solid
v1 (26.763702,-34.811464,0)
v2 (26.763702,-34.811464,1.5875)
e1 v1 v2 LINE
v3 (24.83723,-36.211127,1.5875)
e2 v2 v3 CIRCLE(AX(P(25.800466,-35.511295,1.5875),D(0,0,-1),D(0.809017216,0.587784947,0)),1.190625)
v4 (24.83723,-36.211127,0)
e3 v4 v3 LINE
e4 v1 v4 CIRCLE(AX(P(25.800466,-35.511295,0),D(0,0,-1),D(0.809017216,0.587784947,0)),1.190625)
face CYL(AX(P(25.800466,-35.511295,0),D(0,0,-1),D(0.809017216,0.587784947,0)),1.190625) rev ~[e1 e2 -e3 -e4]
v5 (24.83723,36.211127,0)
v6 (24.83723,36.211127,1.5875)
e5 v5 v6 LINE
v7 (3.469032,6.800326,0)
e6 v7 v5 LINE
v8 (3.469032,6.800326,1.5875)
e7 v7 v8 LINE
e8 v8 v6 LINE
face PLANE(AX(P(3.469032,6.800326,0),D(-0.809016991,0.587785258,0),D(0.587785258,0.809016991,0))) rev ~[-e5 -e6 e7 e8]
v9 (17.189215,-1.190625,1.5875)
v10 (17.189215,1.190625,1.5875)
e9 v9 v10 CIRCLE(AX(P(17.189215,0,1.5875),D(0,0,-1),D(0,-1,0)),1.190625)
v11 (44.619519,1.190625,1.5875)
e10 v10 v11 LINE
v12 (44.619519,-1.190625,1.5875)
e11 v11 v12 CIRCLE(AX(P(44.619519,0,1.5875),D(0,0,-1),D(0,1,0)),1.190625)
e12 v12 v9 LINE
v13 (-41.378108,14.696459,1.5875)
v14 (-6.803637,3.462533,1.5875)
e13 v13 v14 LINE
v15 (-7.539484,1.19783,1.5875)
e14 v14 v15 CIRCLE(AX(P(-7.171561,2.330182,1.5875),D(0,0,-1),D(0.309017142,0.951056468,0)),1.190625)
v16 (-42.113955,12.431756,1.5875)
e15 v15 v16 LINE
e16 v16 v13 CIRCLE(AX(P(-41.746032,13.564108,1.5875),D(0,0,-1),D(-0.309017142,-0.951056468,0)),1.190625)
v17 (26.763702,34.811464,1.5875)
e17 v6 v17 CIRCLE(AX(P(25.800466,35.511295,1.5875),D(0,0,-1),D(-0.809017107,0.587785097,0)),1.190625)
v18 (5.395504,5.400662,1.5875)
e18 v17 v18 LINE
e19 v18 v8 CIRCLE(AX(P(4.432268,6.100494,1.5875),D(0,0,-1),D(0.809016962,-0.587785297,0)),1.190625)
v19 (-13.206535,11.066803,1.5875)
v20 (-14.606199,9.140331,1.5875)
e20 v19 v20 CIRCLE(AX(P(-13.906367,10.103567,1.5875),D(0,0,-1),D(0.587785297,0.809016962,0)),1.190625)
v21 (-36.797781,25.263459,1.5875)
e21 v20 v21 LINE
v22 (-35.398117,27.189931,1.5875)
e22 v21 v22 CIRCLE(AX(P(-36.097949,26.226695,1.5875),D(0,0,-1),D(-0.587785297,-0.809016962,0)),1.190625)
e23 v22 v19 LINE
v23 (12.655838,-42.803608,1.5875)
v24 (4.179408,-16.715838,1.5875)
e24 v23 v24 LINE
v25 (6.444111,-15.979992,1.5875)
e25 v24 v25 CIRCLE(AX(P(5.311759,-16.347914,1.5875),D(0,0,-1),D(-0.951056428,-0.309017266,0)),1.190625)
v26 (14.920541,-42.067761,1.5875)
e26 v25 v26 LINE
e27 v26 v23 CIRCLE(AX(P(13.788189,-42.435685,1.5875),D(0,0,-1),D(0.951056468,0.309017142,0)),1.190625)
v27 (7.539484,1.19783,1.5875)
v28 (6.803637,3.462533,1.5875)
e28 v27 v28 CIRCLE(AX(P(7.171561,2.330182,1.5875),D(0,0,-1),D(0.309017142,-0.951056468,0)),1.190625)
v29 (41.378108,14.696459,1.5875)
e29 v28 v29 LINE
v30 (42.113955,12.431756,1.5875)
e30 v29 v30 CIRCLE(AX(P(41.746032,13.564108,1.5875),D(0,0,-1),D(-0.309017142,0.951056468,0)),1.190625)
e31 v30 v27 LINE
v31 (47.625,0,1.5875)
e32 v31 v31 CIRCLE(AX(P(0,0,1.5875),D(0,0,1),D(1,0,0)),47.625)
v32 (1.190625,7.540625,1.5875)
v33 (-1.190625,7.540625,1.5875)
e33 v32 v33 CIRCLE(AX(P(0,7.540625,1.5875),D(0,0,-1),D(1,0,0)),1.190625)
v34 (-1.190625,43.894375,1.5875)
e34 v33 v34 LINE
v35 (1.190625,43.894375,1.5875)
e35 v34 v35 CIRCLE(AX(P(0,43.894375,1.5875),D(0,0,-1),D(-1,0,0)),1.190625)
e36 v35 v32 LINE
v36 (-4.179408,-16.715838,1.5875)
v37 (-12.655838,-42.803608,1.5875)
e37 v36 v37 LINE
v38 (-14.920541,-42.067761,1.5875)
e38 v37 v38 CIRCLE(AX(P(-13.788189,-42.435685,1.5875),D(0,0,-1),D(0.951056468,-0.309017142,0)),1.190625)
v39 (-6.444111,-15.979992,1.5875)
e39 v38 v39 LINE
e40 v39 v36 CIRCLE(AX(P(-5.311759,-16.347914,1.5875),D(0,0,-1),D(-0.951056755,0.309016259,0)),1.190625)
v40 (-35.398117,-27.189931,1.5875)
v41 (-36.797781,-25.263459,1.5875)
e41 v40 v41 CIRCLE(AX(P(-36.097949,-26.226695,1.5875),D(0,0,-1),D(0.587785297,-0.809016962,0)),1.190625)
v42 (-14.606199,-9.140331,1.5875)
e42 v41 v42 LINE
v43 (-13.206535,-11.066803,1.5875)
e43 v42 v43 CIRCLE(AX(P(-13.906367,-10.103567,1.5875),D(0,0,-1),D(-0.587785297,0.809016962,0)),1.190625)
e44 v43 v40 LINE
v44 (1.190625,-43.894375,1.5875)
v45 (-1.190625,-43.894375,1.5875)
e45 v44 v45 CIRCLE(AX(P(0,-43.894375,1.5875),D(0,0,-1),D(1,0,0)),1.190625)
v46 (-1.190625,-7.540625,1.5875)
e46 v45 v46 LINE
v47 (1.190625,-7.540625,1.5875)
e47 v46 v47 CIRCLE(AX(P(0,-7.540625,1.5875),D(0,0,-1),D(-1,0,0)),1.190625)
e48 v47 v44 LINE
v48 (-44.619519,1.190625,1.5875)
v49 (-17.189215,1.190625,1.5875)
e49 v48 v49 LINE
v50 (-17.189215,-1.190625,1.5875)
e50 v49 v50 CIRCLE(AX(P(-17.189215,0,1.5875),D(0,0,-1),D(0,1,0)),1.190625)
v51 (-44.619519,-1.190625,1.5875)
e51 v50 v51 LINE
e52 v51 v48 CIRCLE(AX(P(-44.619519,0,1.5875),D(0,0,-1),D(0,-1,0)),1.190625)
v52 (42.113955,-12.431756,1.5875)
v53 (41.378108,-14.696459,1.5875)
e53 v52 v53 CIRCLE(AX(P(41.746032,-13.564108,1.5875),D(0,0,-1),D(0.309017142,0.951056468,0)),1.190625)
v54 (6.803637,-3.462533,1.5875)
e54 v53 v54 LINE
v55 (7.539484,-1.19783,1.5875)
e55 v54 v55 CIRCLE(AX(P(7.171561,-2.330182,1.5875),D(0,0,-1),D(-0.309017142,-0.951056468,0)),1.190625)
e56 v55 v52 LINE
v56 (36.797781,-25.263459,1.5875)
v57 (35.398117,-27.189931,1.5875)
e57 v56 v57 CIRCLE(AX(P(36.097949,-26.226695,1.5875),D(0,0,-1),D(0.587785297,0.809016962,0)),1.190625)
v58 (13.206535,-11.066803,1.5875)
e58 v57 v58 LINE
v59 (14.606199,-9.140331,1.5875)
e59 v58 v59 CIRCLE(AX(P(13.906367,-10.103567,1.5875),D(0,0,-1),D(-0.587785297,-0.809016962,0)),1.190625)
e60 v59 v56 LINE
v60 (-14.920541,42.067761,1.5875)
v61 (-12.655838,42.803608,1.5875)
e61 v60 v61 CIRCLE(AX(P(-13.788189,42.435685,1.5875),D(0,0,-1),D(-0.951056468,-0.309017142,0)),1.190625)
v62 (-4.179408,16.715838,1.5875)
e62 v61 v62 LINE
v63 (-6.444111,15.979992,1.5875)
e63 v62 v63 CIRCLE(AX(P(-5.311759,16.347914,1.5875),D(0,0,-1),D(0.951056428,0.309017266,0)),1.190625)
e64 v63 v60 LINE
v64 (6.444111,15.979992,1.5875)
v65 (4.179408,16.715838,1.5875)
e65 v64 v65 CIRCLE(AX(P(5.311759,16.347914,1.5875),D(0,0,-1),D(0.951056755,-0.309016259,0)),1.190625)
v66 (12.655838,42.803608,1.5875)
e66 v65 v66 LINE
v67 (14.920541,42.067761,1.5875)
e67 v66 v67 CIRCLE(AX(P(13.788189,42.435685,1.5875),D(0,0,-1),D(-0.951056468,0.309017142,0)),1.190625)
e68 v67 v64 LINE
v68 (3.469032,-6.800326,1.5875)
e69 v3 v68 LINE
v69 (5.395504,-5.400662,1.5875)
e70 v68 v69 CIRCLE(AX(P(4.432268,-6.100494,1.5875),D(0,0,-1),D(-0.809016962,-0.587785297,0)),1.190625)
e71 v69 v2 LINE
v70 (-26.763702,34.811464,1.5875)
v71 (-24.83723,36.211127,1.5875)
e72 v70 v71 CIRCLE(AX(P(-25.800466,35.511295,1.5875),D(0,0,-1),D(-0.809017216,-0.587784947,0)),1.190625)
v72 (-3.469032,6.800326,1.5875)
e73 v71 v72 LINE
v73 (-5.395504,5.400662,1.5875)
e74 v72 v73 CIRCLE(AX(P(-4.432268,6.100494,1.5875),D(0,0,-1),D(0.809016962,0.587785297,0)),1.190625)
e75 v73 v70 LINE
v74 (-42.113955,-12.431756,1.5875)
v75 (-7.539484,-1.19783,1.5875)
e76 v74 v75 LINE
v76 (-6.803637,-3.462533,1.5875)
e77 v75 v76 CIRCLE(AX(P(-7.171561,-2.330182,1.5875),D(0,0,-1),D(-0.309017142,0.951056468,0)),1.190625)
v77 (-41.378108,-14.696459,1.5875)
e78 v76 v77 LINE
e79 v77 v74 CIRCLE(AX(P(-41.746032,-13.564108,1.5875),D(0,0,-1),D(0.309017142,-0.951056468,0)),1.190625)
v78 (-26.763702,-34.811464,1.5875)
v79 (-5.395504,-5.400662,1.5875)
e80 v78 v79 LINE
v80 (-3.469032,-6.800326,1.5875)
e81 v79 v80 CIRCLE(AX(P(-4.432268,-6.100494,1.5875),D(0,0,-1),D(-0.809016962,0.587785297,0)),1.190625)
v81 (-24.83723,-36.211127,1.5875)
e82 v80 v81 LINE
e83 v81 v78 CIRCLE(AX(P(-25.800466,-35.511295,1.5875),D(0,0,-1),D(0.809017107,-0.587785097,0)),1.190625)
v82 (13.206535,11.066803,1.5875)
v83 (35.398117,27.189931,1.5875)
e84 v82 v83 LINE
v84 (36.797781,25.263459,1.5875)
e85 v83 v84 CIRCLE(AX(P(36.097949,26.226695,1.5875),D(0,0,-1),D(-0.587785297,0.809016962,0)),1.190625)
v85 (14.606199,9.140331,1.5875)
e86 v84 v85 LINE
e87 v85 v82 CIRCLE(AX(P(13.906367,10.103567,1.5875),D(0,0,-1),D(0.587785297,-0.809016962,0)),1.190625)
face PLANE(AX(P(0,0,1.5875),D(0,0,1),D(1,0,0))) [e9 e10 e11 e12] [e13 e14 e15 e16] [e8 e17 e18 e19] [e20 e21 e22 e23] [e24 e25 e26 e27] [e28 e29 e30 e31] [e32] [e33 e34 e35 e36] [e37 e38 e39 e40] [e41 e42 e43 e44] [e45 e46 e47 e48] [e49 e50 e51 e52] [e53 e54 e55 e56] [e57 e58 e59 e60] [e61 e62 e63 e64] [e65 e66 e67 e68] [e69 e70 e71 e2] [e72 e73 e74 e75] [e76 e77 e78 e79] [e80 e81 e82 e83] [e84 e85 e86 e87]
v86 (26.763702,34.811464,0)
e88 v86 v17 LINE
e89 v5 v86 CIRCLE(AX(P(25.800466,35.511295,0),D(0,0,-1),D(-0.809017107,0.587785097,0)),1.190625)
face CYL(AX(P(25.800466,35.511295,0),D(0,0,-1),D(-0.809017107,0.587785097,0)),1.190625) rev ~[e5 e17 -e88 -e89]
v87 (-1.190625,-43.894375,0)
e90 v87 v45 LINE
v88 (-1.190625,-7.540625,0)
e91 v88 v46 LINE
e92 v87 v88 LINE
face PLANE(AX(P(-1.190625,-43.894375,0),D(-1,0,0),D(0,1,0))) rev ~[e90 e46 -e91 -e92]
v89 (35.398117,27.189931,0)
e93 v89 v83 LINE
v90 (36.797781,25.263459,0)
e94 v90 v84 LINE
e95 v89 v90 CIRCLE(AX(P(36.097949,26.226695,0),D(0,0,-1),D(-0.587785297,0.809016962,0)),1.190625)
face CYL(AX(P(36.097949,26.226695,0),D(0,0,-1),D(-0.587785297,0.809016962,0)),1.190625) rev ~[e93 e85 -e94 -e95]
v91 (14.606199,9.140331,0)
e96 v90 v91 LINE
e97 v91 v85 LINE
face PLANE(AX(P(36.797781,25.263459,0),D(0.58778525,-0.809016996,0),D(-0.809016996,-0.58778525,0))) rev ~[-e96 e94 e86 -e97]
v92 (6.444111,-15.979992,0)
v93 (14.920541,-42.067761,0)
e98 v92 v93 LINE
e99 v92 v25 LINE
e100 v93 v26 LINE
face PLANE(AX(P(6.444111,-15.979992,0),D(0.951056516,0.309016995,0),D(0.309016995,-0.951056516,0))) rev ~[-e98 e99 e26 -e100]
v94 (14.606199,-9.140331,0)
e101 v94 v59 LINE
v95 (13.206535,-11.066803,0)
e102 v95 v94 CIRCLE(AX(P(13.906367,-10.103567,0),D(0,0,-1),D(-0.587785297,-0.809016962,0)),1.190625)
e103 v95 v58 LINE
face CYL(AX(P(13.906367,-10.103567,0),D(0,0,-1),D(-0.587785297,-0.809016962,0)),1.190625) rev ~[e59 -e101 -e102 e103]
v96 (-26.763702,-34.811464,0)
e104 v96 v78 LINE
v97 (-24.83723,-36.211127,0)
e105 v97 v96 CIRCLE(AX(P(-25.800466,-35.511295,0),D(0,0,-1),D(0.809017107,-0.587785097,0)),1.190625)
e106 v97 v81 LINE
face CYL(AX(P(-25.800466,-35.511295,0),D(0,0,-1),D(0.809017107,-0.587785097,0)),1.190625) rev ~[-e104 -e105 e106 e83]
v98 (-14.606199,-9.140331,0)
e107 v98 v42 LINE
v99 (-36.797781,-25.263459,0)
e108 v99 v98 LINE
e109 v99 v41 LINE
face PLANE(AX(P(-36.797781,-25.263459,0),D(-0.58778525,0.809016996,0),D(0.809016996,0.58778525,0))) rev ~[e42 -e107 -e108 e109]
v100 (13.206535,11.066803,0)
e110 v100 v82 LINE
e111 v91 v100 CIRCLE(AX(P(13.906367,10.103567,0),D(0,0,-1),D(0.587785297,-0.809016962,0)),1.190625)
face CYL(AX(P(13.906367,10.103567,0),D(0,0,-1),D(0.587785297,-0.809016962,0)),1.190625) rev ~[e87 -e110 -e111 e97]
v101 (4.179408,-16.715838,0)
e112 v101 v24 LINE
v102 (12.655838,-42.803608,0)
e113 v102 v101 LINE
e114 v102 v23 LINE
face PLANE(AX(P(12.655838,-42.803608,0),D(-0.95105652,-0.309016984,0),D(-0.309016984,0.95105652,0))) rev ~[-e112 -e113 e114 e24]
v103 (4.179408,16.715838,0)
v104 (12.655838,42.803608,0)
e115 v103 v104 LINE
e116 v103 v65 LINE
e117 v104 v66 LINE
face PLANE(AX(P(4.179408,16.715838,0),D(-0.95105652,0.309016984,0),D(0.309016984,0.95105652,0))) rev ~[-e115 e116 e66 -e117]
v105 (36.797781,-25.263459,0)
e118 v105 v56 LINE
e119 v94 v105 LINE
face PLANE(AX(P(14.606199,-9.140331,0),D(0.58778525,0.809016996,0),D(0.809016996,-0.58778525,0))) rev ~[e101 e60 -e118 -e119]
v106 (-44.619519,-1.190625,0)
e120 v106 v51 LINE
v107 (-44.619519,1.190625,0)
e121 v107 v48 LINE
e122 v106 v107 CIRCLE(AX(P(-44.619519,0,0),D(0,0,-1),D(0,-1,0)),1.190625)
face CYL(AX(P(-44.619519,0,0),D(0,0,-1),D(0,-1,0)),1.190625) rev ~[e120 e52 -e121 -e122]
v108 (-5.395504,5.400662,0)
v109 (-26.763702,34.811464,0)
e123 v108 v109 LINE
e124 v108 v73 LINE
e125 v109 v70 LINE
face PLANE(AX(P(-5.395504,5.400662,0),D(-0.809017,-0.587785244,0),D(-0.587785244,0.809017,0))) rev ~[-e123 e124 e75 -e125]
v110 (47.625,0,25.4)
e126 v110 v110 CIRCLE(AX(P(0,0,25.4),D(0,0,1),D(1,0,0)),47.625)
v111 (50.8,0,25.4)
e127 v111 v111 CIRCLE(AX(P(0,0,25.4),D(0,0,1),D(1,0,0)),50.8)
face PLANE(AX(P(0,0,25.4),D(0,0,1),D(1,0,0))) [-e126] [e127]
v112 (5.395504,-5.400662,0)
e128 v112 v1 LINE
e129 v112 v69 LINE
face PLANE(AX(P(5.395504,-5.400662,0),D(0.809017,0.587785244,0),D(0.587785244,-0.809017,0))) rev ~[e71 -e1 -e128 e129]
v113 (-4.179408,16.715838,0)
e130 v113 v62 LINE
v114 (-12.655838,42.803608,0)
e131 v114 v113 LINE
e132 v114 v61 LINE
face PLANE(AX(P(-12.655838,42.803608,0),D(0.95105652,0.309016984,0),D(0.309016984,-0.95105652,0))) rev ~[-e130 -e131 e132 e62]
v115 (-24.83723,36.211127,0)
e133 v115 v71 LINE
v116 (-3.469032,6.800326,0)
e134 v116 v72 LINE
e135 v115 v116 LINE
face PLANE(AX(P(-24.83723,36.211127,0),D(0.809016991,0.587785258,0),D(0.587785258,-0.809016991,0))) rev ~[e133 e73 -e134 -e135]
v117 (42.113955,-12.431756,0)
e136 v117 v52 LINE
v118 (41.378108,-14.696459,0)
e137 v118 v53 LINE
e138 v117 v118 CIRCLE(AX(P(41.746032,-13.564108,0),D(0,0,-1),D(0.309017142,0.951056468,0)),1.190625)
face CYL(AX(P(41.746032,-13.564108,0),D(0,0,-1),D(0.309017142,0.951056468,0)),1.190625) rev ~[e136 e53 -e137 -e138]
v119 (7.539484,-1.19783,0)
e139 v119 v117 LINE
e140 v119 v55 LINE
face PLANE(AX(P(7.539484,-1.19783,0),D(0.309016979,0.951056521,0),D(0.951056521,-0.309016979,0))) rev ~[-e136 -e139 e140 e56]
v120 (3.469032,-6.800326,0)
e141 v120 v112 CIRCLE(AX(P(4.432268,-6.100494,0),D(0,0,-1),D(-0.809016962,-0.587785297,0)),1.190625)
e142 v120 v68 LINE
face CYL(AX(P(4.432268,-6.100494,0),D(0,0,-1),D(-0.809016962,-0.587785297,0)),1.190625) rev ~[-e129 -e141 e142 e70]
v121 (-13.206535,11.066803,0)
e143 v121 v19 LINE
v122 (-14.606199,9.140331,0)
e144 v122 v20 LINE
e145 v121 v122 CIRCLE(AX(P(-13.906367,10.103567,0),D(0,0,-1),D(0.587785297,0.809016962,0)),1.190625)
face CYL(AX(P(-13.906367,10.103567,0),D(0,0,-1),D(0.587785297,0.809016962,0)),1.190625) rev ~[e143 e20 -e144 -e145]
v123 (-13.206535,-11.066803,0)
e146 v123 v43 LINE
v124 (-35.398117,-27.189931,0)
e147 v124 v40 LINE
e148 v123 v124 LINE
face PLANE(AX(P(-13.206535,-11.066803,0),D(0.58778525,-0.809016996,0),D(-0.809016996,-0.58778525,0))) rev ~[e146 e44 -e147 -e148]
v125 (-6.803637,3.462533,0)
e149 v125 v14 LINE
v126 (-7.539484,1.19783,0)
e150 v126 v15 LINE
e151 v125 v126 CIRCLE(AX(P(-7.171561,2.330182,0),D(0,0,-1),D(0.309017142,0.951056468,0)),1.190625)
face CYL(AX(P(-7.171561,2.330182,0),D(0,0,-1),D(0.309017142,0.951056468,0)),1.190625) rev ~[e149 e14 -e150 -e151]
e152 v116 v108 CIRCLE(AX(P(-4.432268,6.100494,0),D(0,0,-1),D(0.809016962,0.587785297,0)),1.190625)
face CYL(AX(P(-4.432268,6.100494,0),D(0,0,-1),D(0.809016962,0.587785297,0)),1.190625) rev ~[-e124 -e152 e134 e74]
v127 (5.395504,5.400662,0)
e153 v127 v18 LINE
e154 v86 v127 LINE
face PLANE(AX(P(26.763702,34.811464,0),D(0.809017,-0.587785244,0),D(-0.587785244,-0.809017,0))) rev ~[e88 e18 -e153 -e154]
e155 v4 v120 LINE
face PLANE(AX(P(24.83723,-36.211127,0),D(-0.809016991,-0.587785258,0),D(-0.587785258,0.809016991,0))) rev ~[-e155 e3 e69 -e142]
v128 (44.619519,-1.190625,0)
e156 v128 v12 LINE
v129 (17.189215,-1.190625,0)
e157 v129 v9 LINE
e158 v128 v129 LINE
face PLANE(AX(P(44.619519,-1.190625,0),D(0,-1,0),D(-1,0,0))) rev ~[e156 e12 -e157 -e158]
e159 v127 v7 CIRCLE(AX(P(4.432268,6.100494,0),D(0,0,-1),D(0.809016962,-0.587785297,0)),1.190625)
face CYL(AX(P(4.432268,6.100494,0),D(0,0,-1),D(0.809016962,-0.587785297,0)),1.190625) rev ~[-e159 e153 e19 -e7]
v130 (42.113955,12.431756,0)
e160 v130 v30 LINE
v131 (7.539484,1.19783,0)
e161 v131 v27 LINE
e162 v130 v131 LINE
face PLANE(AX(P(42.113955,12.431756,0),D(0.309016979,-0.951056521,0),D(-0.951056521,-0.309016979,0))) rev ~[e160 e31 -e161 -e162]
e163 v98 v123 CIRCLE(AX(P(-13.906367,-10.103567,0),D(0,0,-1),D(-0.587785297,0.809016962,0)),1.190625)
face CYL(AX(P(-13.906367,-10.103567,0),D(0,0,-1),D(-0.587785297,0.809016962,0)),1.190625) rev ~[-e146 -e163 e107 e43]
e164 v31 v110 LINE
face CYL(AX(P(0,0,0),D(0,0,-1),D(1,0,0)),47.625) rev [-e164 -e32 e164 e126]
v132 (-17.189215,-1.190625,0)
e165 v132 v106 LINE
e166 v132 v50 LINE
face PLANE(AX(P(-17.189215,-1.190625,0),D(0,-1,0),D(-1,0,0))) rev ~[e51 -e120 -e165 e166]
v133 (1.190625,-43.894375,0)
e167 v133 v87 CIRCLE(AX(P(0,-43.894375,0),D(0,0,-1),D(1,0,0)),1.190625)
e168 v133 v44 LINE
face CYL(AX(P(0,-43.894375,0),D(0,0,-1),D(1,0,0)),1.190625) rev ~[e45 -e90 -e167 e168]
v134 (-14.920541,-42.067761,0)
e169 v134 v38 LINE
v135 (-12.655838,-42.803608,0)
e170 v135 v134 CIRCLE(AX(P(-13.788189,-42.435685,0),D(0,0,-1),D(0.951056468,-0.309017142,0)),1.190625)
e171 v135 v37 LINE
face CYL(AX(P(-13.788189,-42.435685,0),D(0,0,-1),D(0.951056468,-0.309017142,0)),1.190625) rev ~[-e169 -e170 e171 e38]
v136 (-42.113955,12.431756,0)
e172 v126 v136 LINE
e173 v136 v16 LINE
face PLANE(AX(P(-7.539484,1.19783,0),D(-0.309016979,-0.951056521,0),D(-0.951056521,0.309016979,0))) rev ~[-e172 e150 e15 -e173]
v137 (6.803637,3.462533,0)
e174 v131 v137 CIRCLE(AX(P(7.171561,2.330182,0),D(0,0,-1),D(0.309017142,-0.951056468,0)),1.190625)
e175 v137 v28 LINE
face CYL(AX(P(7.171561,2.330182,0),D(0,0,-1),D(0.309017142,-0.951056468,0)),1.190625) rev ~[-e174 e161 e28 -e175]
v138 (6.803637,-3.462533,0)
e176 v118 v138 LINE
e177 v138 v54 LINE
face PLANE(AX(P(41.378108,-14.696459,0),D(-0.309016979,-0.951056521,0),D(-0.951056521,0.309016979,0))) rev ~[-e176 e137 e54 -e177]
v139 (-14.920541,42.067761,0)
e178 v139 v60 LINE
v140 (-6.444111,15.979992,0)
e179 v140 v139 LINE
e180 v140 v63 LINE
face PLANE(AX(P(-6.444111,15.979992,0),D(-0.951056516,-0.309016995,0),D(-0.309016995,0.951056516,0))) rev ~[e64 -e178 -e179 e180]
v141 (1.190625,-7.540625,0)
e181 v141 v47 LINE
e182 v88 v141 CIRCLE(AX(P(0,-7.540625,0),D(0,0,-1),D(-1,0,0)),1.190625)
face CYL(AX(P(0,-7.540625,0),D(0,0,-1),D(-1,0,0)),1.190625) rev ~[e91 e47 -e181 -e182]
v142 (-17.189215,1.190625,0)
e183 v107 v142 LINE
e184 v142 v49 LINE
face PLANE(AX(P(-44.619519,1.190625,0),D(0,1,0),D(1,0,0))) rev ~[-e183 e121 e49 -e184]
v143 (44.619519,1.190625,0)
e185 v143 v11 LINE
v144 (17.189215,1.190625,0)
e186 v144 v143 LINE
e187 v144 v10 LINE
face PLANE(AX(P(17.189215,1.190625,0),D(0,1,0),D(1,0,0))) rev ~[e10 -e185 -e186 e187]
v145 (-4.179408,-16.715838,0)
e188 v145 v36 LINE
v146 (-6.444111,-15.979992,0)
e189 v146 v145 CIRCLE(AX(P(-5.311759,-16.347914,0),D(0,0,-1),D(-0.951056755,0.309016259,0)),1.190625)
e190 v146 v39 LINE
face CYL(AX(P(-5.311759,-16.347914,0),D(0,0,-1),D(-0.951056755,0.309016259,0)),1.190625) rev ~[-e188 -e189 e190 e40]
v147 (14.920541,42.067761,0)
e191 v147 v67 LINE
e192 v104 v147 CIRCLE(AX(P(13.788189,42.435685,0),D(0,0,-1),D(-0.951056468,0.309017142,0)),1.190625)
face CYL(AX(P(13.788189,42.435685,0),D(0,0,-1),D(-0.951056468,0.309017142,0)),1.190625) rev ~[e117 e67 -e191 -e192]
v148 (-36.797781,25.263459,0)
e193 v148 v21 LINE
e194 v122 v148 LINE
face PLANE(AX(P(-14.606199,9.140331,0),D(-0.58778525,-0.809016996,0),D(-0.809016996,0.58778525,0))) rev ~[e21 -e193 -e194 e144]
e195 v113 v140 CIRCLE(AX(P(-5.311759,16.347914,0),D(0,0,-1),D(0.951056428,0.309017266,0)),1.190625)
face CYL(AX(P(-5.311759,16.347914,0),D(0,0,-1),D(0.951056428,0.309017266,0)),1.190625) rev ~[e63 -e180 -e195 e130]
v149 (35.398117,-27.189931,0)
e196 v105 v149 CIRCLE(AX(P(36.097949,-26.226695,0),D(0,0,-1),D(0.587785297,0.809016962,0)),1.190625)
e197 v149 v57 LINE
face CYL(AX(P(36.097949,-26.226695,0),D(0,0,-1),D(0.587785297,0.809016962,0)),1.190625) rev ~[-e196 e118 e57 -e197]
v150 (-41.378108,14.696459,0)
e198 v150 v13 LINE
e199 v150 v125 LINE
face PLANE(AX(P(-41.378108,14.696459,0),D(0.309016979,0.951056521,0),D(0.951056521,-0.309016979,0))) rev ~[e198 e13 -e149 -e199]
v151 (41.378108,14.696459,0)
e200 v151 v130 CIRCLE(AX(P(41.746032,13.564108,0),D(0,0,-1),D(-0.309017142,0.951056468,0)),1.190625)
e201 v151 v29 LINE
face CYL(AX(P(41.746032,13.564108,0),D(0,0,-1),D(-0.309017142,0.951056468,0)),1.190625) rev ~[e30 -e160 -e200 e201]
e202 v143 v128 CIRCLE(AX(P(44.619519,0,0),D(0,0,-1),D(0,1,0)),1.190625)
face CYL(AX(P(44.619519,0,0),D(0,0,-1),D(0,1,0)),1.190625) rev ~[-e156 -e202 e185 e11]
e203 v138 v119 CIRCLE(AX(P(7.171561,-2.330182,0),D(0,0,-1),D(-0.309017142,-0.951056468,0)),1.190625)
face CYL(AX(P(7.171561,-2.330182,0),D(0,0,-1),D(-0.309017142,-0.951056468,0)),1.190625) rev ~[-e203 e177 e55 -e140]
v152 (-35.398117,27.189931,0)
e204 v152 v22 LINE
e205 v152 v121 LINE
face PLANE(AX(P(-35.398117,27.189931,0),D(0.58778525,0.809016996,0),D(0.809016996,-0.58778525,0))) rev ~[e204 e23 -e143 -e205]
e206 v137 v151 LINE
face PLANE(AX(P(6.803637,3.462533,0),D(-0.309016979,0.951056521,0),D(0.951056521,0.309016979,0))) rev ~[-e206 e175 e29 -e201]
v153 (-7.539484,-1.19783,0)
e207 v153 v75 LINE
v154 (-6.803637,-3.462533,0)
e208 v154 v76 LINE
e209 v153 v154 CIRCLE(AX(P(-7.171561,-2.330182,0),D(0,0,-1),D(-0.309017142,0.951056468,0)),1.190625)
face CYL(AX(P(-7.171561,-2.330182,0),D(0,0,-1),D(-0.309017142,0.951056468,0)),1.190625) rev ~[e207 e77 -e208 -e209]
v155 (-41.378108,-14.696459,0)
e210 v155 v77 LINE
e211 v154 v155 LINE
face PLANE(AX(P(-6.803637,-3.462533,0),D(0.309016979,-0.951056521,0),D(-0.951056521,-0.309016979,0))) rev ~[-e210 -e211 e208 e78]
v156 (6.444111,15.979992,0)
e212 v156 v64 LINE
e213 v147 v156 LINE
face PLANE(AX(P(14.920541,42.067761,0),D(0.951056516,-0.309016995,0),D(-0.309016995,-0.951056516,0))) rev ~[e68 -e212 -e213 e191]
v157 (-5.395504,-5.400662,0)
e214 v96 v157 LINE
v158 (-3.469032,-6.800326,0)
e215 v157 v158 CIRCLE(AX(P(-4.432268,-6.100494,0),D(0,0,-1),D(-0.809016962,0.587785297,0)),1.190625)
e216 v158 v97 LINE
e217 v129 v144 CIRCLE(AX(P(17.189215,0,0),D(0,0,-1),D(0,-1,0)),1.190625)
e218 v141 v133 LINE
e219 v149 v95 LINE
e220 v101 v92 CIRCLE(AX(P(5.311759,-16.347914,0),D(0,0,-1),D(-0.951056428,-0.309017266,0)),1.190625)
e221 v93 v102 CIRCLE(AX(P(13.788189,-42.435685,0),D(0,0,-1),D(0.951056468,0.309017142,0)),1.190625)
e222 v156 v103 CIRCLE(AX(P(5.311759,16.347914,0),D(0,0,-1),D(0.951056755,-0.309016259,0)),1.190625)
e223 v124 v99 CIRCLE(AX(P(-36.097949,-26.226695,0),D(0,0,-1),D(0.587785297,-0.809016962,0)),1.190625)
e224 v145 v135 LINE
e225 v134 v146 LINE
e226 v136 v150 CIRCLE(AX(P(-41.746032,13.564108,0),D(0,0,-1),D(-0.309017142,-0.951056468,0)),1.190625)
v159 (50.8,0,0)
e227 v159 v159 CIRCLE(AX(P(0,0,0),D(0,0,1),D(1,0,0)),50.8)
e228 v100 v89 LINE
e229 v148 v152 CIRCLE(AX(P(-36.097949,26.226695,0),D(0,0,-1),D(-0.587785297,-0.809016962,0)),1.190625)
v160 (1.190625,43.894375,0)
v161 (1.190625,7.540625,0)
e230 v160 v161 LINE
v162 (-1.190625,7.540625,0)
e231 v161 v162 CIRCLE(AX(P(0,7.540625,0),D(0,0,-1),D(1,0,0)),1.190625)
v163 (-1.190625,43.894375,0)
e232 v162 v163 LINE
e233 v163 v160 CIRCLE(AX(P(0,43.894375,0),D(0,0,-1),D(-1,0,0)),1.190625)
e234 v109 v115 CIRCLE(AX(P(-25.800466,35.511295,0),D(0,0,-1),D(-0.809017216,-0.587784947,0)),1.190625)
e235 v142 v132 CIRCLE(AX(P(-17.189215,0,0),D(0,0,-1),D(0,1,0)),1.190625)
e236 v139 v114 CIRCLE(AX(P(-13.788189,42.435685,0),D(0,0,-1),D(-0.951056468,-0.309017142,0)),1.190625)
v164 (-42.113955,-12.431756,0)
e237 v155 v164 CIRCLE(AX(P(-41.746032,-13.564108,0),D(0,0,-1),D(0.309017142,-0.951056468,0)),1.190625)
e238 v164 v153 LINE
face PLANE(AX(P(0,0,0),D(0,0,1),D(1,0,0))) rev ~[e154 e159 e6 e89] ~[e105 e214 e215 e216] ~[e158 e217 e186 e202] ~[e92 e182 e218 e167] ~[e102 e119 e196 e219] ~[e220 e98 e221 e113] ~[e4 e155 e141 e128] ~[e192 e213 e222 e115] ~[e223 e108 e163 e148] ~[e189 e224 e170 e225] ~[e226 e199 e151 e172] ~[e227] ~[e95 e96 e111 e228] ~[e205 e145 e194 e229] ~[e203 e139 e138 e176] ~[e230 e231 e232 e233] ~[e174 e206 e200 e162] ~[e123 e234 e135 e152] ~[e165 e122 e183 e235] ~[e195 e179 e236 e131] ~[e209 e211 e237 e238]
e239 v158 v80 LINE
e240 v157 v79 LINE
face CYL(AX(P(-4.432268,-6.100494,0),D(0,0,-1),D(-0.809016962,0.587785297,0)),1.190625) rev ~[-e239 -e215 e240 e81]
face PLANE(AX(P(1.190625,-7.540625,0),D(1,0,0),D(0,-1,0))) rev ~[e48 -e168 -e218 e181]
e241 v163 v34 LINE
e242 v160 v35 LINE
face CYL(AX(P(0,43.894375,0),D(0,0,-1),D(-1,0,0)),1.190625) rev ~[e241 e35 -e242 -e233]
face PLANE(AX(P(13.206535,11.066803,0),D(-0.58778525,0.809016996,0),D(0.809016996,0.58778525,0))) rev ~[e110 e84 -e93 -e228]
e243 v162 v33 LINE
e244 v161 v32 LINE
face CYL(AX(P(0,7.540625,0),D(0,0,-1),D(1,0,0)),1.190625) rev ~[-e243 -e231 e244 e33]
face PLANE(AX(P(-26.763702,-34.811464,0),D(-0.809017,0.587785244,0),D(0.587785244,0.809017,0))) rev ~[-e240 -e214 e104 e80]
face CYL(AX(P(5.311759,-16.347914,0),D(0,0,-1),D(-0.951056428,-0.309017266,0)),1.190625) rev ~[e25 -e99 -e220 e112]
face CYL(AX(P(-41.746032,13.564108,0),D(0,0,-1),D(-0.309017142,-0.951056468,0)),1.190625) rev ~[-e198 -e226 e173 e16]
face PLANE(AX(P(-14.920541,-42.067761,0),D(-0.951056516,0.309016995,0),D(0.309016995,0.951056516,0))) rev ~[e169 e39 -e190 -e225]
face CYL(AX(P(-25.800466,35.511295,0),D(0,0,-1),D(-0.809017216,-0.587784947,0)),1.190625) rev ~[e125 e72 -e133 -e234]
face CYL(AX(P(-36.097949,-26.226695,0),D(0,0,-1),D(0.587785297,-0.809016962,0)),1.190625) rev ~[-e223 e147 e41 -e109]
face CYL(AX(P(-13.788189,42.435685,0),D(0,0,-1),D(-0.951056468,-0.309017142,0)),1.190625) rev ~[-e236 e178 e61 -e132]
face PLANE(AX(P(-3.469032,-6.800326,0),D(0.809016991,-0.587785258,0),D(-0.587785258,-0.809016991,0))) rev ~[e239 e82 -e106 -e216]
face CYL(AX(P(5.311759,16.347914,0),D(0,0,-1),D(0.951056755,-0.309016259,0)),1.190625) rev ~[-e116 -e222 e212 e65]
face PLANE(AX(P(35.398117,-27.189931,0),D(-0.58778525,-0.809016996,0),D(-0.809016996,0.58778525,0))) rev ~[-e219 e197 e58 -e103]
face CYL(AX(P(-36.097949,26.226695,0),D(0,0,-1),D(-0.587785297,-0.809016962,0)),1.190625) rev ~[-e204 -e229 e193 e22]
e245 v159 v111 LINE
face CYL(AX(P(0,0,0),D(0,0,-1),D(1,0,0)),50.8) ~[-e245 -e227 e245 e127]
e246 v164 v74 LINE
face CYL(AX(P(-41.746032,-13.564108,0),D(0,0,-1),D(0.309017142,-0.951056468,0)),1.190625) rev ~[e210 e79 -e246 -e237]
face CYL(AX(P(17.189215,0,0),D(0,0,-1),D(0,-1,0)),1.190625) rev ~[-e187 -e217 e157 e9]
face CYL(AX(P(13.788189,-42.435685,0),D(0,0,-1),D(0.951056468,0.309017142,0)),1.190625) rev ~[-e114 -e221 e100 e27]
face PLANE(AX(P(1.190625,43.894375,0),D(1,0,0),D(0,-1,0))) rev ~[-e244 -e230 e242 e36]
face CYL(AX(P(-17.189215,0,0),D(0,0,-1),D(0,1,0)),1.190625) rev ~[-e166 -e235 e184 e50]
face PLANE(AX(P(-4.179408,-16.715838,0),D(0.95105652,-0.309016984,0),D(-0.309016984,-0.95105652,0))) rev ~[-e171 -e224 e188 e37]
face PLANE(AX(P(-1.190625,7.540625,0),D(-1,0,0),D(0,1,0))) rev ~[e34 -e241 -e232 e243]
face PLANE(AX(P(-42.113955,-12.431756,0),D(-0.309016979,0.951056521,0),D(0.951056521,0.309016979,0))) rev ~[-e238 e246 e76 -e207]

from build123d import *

# Parameters (mm, degrees)
F0_R     = 47.625
F1_DEPTH = 1.5875
F0_R_2   = 50.8
F2_DEPTH = 25.4


with BuildPart() as f1:
    # F0 (on Top) → F1 (new body)
    with BuildSketch(Plane.XY):
        Circle(F0_R)
        with BuildLine():
            Line((-14.920541, -42.067761), (-6.444111, -15.979992))
            ThreePointArc((-6.444111, -15.979992), (-4.943836, -15.215563), (-4.179408, -16.715838))
            Line((-4.179408, -16.715838), (-12.655838, -42.803608))
            ThreePointArc((-12.655838, -42.803608), (-14.156113, -43.568036), (-14.920541, -42.067761))
        make_face(mode=Mode.SUBTRACT)
        with BuildLine():
            ThreePointArc((-1.190625, -7.540625), (0, -6.35), (1.190625, -7.540625))
            Line((1.190625, -7.540625), (1.190625, -43.894375))
            ThreePointArc((1.190625, -43.894375), (0, -45.085), (-1.190625, -43.894375))
            Line((-1.190625, -43.894375), (-1.190625, -7.540625))
        make_face(mode=Mode.SUBTRACT)
        with BuildLine():
            Line((-44.619519, 1.190625), (-17.189215, 1.190625))
            ThreePointArc((-17.189215, 1.190625), (-15.99859, 0), (-17.189215, -1.190625))
            Line((-17.189215, -1.190625), (-44.619519, -1.190625))
            ThreePointArc((-44.619519, -1.190625), (-45.810144, 0), (-44.619519, 1.190625))
        make_face(mode=Mode.SUBTRACT)
        with BuildLine():
            ThreePointArc((-5.395504, -5.400662), (-3.732436, -5.137258), (-3.469032, -6.800326))
            Line((-3.469032, -6.800326), (-24.83723, -36.211127))
            ThreePointArc((-24.83723, -36.211127), (-26.500298, -36.474531), (-26.763702, -34.811464))
            Line((-26.763702, -34.811464), (-5.395504, -5.400662))
        make_face(mode=Mode.SUBTRACT)
        with BuildLine():
            Line((-36.797781, -25.263459), (-14.606199, -9.140331))
            ThreePointArc((-14.606199, -9.140331), (-12.943131, -9.403735), (-13.206535, -11.066803))
            Line((-13.206535, -11.066803), (-35.398117, -27.189931))
            ThreePointArc((-35.398117, -27.189931), (-37.061185, -26.926527), (-36.797781, -25.263459))
        make_face(mode=Mode.SUBTRACT)
        with BuildLine():
            ThreePointArc((-7.539484, -1.19783), (-6.039209, -1.962258), (-6.803637, -3.462533))
            Line((-6.803637, -3.462533), (-41.378108, -14.696459))
            ThreePointArc((-41.378108, -14.696459), (-42.878383, -13.932031), (-42.113955, -12.431756))
            Line((-42.113955, -12.431756), (-7.539484, -1.19783))
        make_face(mode=Mode.SUBTRACT)
        with BuildLine():
            Line((12.655838, -42.803608), (4.179408, -16.715838))
            ThreePointArc((4.179408, -16.715838), (4.943836, -15.215563), (6.444111, -15.979992))
            Line((6.444111, -15.979992), (14.920541, -42.067761))
            ThreePointArc((14.920541, -42.067761), (14.156113, -43.568036), (12.655838, -42.803608))
        make_face(mode=Mode.SUBTRACT)
        with BuildLine():
            ThreePointArc((3.469032, -6.800326), (3.732436, -5.137258), (5.395504, -5.400662))
            Line((5.395504, -5.400662), (26.763702, -34.811464))
            ThreePointArc((26.763702, -34.811464), (26.500298, -36.474531), (24.83723, -36.211127))
            Line((24.83723, -36.211127), (3.469032, -6.800326))
        make_face(mode=Mode.SUBTRACT)
        with BuildLine():
            Line((35.398117, -27.189931), (13.206535, -11.066803))
            ThreePointArc((13.206535, -11.066803), (12.943131, -9.403735), (14.606199, -9.140331))
            Line((14.606199, -9.140331), (36.797781, -25.263459))
            ThreePointArc((36.797781, -25.263459), (37.061185, -26.926527), (35.398117, -27.189931))
        make_face(mode=Mode.SUBTRACT)
        with BuildLine():
            ThreePointArc((6.803637, -3.462533), (6.039209, -1.962258), (7.539484, -1.19783))
            Line((7.539484, -1.19783), (42.113955, -12.431756))
            ThreePointArc((42.113955, -12.431756), (42.878383, -13.932031), (41.378108, -14.696459))
            Line((41.378108, -14.696459), (6.803637, -3.462533))
        make_face(mode=Mode.SUBTRACT)
        with BuildLine():
            Line((44.619519, -1.190625), (17.189215, -1.190625))
            ThreePointArc((17.189215, -1.190625), (15.99859, 0), (17.189215, 1.190625))
            Line((17.189215, 1.190625), (44.619519, 1.190625))
            ThreePointArc((44.619519, 1.190625), (45.810144, 0), (44.619519, -1.190625))
        make_face(mode=Mode.SUBTRACT)
        with BuildLine():
            ThreePointArc((-6.803637, 3.462533), (-6.039209, 1.962258), (-7.539484, 1.19783))
            Line((-7.539484, 1.19783), (-42.113955, 12.431756))
            ThreePointArc((-42.113955, 12.431756), (-42.878383, 13.932031), (-41.378108, 14.696459))
            Line((-41.378108, 14.696459), (-6.803637, 3.462533))
        make_face(mode=Mode.SUBTRACT)
        with BuildLine():
            Line((-35.398117, 27.189931), (-13.206535, 11.066803))
            ThreePointArc((-13.206535, 11.066803), (-12.943131, 9.403735), (-14.606199, 9.140331))
            Line((-14.606199, 9.140331), (-36.797781, 25.263459))
            ThreePointArc((-36.797781, 25.263459), (-37.061185, 26.926527), (-35.398117, 27.189931))
        make_face(mode=Mode.SUBTRACT)
        with BuildLine():
            ThreePointArc((-3.469032, 6.800326), (-3.732436, 5.137258), (-5.395504, 5.400662))
            Line((-5.395504, 5.400662), (-26.763702, 34.811464))
            ThreePointArc((-26.763702, 34.811464), (-26.500298, 36.474531), (-24.83723, 36.211127))
            Line((-24.83723, 36.211127), (-3.469032, 6.800326))
        make_face(mode=Mode.SUBTRACT)
        with BuildLine():
            Line((-12.655838, 42.803608), (-4.179408, 16.715838))
            ThreePointArc((-4.179408, 16.715838), (-4.943836, 15.215563), (-6.444111, 15.979992))
            Line((-6.444111, 15.979992), (-14.920541, 42.067761))
            ThreePointArc((-14.920541, 42.067761), (-14.156113, 43.568036), (-12.655838, 42.803608))
        make_face(mode=Mode.SUBTRACT)
        with BuildLine():
            ThreePointArc((-1.190625, 43.894375), (0, 45.085), (1.190625, 43.894375))
            Line((1.190625, 43.894375), (1.190625, 7.540625))
            ThreePointArc((1.190625, 7.540625), (0, 6.35), (-1.190625, 7.540625))
            Line((-1.190625, 7.540625), (-1.190625, 43.894375))
        make_face(mode=Mode.SUBTRACT)
        with BuildLine():
            ThreePointArc((7.539484, 1.19783), (6.039209, 1.962258), (6.803637, 3.462533))
            Line((6.803637, 3.462533), (41.378108, 14.696459))
            ThreePointArc((41.378108, 14.696459), (42.878383, 13.932031), (42.113955, 12.431756))
            Line((42.113955, 12.431756), (7.539484, 1.19783))
        make_face(mode=Mode.SUBTRACT)
        with BuildLine():
            Line((36.797781, 25.263459), (14.606199, 9.140331))
            ThreePointArc((14.606199, 9.140331), (12.943131, 9.403735), (13.206535, 11.066803))
            Line((13.206535, 11.066803), (35.398117, 27.189931))
            ThreePointArc((35.398117, 27.189931), (37.061185, 26.926527), (36.797781, 25.263459))
        make_face(mode=Mode.SUBTRACT)
        with BuildLine():
            ThreePointArc((5.395504, 5.400662), (3.732436, 5.137258), (3.469032, 6.800326))
            Line((3.469032, 6.800326), (24.83723, 36.211127))
            ThreePointArc((24.83723, 36.211127), (26.500298, 36.474531), (26.763702, 34.811464))
            Line((26.763702, 34.811464), (5.395504, 5.400662))
        make_face(mode=Mode.SUBTRACT)
        with BuildLine():
            ThreePointArc((12.655838, 42.803608), (14.156113, 43.568036), (14.920541, 42.067761))
            Line((14.920541, 42.067761), (6.444111, 15.979992))
            ThreePointArc((6.444111, 15.979992), (4.943836, 15.215563), (4.179408, 16.715838))
            Line((4.179408, 16.715838), (12.655838, 42.803608))
        make_face(mode=Mode.SUBTRACT)
    extrude(amount=F1_DEPTH)

    # F0 (on Top) → F2 (join)
    with BuildSketch(Plane.XY):
        Circle(F0_R_2)
        Circle(F0_R, mode=Mode.SUBTRACT)
    extrude(amount=F2_DEPTH)


solid = f1.part
